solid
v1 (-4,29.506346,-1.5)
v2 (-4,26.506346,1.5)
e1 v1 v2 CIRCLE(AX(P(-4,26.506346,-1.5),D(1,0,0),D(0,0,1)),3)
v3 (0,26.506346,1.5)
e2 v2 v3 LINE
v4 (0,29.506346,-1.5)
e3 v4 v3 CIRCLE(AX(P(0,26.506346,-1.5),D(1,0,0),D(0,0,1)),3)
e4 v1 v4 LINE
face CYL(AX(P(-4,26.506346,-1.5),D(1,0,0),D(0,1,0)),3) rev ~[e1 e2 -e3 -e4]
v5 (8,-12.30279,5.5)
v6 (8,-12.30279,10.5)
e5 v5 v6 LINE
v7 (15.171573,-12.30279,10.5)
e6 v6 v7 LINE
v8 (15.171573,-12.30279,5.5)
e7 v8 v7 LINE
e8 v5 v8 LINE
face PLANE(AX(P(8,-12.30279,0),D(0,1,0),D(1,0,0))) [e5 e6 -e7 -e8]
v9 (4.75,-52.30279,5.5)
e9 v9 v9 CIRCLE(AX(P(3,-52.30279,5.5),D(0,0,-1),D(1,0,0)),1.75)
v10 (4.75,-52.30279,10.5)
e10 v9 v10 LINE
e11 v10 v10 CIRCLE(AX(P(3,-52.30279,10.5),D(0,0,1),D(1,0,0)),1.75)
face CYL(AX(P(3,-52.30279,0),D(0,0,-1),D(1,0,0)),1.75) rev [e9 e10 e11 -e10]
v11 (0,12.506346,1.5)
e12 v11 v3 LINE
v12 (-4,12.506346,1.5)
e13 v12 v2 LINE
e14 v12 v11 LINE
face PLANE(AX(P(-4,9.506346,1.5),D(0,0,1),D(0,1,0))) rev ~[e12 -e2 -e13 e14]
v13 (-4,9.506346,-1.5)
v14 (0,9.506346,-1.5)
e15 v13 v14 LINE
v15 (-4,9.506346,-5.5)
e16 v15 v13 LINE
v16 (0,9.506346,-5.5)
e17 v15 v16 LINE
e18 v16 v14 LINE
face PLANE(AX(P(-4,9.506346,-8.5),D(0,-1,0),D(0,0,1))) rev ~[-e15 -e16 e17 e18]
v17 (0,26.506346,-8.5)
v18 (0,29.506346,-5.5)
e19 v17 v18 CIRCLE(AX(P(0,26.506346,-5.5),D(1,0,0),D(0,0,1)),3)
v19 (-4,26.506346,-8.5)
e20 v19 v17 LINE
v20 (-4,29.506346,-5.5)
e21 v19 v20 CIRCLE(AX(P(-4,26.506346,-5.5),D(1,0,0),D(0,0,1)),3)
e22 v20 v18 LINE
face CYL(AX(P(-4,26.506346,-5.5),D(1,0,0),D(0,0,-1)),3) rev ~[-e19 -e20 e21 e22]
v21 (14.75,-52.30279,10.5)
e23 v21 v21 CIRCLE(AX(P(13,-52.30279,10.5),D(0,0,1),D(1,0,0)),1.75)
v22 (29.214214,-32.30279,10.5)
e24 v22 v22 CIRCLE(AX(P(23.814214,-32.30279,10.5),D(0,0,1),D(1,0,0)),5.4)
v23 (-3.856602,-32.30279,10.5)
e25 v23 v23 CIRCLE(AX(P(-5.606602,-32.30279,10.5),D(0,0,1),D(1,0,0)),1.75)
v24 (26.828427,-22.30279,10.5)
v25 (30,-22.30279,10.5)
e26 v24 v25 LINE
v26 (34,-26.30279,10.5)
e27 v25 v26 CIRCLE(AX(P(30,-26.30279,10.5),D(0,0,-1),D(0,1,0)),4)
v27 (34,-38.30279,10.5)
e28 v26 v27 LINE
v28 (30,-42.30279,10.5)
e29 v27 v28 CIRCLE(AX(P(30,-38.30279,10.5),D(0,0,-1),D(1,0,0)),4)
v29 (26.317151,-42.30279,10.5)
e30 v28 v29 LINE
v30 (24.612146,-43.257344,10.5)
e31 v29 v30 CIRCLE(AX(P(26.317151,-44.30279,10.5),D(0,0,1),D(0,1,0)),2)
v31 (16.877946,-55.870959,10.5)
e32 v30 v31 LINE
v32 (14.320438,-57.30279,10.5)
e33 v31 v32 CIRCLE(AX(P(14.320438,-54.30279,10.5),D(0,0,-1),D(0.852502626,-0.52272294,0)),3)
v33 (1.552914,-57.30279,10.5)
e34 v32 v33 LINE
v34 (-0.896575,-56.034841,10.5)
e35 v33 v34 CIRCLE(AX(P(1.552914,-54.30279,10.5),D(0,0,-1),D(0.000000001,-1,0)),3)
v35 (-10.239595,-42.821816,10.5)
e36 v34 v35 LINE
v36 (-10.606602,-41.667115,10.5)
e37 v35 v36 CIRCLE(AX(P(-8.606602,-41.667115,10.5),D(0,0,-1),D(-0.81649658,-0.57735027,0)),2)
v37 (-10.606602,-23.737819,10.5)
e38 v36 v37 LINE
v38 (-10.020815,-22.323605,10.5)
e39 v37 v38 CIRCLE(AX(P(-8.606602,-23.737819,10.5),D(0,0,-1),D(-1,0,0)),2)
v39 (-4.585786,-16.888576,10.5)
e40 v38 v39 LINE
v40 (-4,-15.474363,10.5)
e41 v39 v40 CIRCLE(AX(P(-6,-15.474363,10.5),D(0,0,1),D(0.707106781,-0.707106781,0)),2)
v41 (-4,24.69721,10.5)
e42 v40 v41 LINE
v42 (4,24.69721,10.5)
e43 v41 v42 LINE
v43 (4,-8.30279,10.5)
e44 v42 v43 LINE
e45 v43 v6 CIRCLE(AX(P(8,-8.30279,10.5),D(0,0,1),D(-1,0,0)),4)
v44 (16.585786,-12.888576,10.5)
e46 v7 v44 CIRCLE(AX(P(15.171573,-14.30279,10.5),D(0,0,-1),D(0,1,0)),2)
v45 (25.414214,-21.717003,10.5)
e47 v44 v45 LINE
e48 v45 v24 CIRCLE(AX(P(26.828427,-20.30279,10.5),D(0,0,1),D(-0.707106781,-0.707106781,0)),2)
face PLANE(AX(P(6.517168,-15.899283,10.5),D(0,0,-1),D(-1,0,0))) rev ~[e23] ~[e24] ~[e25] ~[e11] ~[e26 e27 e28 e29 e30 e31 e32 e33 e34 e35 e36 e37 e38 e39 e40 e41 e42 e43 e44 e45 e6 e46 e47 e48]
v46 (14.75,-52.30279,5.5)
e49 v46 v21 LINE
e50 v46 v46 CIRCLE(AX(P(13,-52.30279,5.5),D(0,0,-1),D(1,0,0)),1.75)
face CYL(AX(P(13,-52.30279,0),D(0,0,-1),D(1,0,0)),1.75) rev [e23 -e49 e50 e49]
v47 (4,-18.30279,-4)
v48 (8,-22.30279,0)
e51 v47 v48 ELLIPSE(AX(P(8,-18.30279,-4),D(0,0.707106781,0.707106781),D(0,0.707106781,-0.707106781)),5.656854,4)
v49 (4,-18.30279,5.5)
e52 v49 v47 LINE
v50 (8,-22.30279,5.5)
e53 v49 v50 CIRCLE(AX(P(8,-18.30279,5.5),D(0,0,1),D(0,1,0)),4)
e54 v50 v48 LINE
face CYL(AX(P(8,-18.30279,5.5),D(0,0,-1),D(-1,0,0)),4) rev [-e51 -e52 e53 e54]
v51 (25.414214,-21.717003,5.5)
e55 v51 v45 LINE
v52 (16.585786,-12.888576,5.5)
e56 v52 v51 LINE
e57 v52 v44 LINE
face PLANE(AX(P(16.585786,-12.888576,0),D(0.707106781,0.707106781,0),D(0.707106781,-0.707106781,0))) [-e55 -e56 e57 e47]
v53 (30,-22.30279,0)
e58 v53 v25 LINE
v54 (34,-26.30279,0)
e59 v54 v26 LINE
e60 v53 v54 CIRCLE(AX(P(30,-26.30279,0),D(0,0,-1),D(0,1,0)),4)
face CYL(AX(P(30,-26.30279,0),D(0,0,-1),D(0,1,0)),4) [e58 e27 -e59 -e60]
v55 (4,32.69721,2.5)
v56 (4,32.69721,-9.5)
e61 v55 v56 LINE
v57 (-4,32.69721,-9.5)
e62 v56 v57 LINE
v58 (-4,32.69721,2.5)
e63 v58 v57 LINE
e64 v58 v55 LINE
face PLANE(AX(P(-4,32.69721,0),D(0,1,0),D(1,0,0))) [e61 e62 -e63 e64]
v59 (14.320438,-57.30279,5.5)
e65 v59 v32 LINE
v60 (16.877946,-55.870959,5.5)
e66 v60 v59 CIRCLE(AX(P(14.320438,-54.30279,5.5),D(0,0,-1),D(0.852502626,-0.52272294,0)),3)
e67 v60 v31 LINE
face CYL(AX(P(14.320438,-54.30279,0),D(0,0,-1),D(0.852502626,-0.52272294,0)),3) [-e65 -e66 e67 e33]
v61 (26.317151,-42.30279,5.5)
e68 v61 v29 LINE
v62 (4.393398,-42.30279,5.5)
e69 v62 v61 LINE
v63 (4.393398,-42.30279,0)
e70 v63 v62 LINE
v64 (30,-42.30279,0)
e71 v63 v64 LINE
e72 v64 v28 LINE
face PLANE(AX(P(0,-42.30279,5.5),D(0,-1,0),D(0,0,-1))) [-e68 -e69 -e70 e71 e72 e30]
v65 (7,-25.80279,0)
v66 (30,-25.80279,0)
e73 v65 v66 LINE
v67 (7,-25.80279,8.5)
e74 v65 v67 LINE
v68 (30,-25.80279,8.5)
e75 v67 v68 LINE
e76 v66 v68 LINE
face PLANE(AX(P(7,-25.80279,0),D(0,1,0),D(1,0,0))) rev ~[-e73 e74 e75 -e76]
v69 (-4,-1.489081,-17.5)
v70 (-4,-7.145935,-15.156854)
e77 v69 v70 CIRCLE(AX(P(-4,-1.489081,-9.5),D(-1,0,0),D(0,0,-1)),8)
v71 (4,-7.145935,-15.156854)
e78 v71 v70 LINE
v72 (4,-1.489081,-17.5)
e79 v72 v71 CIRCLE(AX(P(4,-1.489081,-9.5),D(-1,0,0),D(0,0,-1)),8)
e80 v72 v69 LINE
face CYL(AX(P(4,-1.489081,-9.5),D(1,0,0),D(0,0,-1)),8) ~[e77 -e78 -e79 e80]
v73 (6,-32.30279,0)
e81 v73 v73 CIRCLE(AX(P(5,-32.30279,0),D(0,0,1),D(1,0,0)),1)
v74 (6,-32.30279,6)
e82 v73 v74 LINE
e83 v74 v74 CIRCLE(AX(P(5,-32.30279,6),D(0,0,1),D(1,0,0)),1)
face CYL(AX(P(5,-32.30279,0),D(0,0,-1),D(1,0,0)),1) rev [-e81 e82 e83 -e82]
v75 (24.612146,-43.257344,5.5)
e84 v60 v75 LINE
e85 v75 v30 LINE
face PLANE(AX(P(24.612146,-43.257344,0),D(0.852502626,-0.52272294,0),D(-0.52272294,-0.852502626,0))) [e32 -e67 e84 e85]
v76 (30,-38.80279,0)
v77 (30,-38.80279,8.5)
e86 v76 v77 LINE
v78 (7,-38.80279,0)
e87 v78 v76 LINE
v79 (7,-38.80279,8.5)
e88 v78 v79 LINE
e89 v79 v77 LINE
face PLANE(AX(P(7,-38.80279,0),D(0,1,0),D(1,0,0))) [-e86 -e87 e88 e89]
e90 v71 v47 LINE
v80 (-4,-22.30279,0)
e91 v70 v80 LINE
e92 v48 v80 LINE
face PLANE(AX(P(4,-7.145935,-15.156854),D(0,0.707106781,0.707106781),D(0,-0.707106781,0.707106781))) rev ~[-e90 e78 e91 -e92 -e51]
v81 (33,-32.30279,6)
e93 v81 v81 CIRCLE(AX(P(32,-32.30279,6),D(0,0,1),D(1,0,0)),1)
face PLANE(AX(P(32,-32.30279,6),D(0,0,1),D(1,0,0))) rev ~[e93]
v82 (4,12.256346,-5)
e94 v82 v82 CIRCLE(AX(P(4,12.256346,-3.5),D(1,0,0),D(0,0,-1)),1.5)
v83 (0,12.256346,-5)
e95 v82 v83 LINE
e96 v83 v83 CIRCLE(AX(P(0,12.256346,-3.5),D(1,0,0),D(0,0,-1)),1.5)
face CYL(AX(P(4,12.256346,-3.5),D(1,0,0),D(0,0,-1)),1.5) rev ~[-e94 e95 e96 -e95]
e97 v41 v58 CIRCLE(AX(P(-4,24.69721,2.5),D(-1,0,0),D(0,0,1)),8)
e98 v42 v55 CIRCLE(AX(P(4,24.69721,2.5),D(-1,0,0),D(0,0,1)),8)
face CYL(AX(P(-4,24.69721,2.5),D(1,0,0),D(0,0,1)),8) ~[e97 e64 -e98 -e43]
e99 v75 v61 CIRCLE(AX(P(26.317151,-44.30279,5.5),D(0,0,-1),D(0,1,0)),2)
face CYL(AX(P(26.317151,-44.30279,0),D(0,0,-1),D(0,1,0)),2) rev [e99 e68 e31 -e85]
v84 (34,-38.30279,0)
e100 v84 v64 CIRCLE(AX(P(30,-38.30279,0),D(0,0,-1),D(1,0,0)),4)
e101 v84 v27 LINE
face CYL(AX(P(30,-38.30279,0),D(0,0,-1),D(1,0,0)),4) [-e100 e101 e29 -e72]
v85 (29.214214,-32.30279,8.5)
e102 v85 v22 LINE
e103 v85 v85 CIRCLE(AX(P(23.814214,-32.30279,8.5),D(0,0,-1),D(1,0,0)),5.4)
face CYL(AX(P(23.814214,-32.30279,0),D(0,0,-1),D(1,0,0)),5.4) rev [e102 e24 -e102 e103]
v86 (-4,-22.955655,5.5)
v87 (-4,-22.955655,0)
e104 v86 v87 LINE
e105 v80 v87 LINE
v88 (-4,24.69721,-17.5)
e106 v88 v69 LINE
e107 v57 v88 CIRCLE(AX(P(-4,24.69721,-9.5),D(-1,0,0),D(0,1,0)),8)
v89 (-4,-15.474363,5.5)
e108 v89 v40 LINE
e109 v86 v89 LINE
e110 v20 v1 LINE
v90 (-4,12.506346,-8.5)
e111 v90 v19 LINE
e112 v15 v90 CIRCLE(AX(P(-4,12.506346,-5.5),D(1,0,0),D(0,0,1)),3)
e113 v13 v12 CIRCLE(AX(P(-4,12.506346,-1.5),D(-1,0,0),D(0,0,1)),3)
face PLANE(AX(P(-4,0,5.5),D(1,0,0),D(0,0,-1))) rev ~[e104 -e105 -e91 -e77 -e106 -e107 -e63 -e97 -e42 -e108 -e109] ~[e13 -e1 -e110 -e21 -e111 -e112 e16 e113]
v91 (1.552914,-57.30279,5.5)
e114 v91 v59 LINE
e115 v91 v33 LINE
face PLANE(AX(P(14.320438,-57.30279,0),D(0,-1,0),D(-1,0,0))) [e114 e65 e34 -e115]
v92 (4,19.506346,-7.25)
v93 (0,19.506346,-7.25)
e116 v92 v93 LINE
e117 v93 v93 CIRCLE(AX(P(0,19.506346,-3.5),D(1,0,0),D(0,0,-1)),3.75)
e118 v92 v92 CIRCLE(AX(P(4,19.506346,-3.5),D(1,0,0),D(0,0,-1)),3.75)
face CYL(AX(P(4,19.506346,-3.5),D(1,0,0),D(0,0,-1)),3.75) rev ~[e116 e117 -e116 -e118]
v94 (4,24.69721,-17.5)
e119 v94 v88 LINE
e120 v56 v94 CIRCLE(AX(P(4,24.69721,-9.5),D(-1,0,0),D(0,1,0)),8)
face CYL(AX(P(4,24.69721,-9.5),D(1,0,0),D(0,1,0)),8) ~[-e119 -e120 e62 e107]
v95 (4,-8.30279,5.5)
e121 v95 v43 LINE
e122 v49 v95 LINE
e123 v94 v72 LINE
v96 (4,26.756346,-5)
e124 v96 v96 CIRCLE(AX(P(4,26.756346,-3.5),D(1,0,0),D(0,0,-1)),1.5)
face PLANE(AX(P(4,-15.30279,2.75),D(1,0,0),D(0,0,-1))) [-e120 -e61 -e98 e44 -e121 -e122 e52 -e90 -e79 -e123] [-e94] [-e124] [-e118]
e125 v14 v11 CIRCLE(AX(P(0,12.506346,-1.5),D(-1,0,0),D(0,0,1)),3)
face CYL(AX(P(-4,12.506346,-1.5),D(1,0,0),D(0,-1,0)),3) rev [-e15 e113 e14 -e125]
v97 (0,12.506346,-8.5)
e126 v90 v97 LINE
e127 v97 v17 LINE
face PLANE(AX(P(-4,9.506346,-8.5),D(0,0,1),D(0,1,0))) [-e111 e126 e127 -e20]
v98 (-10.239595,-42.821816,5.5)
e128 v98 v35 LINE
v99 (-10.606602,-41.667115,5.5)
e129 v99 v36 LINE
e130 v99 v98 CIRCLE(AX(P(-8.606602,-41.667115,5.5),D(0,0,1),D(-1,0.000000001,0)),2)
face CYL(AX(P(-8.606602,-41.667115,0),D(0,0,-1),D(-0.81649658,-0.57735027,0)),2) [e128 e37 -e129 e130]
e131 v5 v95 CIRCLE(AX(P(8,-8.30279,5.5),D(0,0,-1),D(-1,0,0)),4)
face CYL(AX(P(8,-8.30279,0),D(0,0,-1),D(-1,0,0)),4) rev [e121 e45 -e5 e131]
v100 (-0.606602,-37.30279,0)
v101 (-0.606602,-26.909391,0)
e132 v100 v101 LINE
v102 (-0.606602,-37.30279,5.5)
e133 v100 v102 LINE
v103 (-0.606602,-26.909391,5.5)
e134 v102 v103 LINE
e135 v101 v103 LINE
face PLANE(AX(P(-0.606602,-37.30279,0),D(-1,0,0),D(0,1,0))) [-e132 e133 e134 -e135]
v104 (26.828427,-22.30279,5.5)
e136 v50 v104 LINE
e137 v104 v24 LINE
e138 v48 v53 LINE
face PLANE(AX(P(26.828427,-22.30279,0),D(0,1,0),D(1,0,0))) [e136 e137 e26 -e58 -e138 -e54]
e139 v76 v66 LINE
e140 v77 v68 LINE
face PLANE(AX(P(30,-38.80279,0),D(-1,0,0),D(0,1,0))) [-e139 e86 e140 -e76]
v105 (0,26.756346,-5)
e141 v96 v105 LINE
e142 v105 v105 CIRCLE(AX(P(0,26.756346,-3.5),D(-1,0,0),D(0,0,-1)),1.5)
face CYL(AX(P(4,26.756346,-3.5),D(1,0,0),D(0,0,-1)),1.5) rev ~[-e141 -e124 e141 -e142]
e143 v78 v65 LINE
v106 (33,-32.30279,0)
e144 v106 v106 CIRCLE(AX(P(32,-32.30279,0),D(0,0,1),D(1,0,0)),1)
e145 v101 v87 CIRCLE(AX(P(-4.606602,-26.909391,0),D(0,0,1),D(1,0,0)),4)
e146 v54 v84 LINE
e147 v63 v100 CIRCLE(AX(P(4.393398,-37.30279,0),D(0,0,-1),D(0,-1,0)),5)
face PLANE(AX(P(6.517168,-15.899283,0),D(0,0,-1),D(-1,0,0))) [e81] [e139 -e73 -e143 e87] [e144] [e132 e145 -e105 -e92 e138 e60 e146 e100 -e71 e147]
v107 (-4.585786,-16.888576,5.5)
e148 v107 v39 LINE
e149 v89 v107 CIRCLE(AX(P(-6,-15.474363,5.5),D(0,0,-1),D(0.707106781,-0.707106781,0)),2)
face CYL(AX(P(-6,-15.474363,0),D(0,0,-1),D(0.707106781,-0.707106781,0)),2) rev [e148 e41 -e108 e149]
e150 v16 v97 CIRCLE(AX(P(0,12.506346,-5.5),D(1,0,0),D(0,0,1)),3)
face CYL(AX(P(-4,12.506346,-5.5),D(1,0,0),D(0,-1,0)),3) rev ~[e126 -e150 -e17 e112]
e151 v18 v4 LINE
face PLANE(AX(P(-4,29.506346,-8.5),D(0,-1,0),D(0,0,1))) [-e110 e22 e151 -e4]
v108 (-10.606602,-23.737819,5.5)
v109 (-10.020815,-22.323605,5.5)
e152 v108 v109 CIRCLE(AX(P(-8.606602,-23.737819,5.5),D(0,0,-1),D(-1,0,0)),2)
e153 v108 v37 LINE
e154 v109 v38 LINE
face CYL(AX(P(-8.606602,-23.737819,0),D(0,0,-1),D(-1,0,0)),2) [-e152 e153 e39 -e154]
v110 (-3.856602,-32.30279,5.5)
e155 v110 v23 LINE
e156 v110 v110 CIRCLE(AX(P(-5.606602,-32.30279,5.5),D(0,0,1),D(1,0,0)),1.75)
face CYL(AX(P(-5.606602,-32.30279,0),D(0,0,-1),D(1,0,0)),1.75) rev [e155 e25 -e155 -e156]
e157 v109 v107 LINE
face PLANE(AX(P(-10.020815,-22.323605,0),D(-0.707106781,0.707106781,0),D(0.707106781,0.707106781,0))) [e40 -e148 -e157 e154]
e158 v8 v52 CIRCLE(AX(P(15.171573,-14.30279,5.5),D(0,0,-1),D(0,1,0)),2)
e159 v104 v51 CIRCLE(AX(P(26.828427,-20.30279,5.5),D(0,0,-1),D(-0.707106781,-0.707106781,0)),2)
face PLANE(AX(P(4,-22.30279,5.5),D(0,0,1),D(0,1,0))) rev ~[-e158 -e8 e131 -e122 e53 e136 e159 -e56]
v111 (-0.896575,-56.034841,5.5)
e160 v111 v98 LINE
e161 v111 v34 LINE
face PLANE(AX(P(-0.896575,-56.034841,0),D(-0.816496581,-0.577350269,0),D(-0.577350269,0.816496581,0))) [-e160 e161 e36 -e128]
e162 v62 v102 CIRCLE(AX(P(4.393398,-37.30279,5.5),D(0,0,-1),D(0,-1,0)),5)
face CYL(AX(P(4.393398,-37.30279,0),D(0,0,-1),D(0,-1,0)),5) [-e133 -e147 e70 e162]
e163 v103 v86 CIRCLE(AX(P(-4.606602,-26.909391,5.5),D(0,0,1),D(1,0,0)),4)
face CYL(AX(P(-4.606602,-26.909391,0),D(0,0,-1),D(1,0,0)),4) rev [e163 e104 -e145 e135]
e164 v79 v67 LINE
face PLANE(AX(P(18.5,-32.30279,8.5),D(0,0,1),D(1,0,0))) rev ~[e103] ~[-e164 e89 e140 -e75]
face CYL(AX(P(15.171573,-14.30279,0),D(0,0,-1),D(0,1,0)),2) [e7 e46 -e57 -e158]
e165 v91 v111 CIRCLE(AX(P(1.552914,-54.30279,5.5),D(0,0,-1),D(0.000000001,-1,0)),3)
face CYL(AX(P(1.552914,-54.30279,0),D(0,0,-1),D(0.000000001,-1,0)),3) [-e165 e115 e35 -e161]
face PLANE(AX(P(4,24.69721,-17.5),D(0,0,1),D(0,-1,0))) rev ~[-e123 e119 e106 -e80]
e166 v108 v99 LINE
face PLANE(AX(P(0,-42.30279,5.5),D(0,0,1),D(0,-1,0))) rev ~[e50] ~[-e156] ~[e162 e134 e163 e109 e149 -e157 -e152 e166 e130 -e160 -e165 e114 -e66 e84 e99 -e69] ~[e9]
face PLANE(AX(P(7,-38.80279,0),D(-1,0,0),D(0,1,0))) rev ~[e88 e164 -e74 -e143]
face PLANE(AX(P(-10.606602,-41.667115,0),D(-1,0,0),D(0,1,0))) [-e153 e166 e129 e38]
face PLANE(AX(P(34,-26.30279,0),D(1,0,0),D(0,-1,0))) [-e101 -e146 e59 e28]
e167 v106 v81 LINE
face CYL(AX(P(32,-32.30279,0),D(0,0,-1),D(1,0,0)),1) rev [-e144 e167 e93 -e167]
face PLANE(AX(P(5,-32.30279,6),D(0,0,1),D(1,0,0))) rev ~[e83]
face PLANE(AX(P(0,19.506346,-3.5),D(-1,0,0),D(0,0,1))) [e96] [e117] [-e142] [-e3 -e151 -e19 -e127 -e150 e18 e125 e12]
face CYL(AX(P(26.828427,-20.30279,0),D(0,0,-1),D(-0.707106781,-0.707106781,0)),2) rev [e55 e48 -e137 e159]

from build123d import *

# Parameters (mm, degrees)
IZIM1_R                     = 5.4
IZIM1_R_2                   = 1.75
Y_KSEKLIK_EKSTR_ZYON1_DEPTH = 10.5
IZIM3_W                     = 5.5
IZIM3_H                     = 14
KES_EKSTR_ZYON1_DEPTH       = 34.5
KES_EKSTR_ZYON2_DEPTH       = 34.5
KES_EKSTR_ZYON2_DEPTH_BACK  = 34.5
IZIM5_W                     = 6.606601718
IZIM5_H                     = 5.5
KES_EKSTR_ZYON4_DEPTH       = 50.5
KES_EKSTR_ZYON5_DEPTH       = 5.5
Y_KSEKLIK_EKSTR_ZYON2_DEPTH = 8
RADYUS2_R                   = 8
RADYUS7_R                   = 4
IZIM9_W                     = 23
IZIM9_H                     = 13
KES_EKSTR_ZYON6_DEPTH       = 8.5
IZIM10_R                    = 1
KES_EKSTR_ZYON7_DEPTH       = 6
KES_EKSTR_ZYON8_DEPTH       = 4
IZIM12_R                    = 1.3
IZIM12_R_2                  = 2.5
KES_EKSTR_ZYON9_DEPTH       = 8
IZIM13_R                    = 2.5
Y_KSEKLIK_EKSTR_ZYON4_DEPTH = 8
IZIM14_R                    = 3.75
IZIM14_R_2                  = 1.5
KES_EKSTR_ZYON10_DEPTH      = 8
IZIM15_W                    = 10
IZIM15_H                    = 20
IZIM15_R                    = 1.5
KES_EKSTR_ZYON11_DEPTH      = 4
RADYUS10_R                  = 3
RADYUS11_R                  = 3
RADYUS12_R                  = 3
RADYUS13_R                  = 3


with BuildPart() as part:
    # Çizim1 → Yükseklik-Ekstrüzyon1 (new body)
    with BuildSketch(Plane.XY):
        with BuildLine():
            ThreePointArc((-10.23959488, -42.821815771), (-10.512642946, -42.272926126), (-10.606601718, -41.667115232))
            Line((-10.606601718, -41.667115232), (-10.606601718, -23.737818565))
            ThreePointArc((-10.606601718, -23.737818565), (-10.454360783, -22.972451701), (-10.02081528, -22.323605003))
            Line((-10.02081528, -22.323605003), (-4.585786438, -16.888576161))
            ThreePointArc((-4.585786438, -16.888576161), (-4.152240935, -16.239729463), (-4, -15.474362598))
            Line((-4, -15.474362598), (-4, -12.302789723))
            Line((-4, -12.302789723), (-4, 32.697210277))
            Line((-4, 32.697210277), (4, 32.697210277))
            Line((4, 32.697210277), (4, -8.302789723))
            ThreePointArc((4, -8.302789723), (5.171572875, -11.131216848), (8, -12.302789723))
            Line((8, -12.302789723), (15.171572875, -12.302789723))
            ThreePointArc((15.171572875, -12.302789723), (15.93693974, -12.455030658), (16.585786438, -12.888576161))
            Line((16.585786438, -12.888576161), (25.414213562, -21.717003285))
            ThreePointArc((25.414213562, -21.717003285), (26.06306026, -22.150548788), (26.828427125, -22.302789723))
            Line((26.828427125, -22.302789723), (30, -22.302789723))
            ThreePointArc((30, -22.302789723), (32.828427125, -23.474362598), (34, -26.302789723))
            Line((34, -26.302789723), (34, -38.302789723))
            ThreePointArc((34, -38.302789723), (32.828427125, -41.131216848), (30, -42.302789723))
            Line((30, -42.302789723), (26.317150887, -42.302789723))
            ThreePointArc((26.317150887, -42.302789723), (25.340138032, -42.557669131), (24.612145635, -43.257343842))
            Line((24.612145635, -43.257343842), (16.877945687, -55.870958544))
            ThreePointArc((16.877945687, -55.870958544), (15.785957092, -56.920470611), (14.320437809, -57.302789723))
            Line((14.320437809, -57.302789723), (1.552914271, -57.302789723))
            ThreePointArc((1.552914271, -57.302789723), (0.17381174, -56.967011225), (-0.896575472, -56.03484053))
            Line((-0.896575472, -56.03484053), (-10.23959488, -42.821815771))
        make_face()
        with Locations((23.814213562, -32.302789723)):
            Circle(IZIM1_R, mode=Mode.SUBTRACT)
        with Locations((-5.606601718, -32.302789723)):
            Circle(IZIM1_R_2, mode=Mode.SUBTRACT)
        with Locations((13, -52.302789723)):
            Circle(IZIM1_R_2, mode=Mode.SUBTRACT)
        with Locations((3, -52.302789723)):
            Circle(IZIM1_R_2, mode=Mode.SUBTRACT)
    extrude(amount=Y_KSEKLIK_EKSTR_ZYON1_DEPTH)

    # Çizim3 → Kes-Ekstrüzyon1 (cut)
    with BuildSketch(Plane(origin=(4, 0, 0), x_dir=(0, 0, -1), z_dir=(1, 0, 0))):
        with Locations((-2.75, -15.302789723)):
            Rectangle(IZIM3_W, IZIM3_H)
    extrude(amount=KES_EKSTR_ZYON1_DEPTH, mode=Mode.SUBTRACT)

    # Çizim4 → Kes-Ekstrüzyon2 (cut, two sides)
    with BuildSketch(Plane(origin=(0, 0, 0), x_dir=(0, 0, -1), z_dir=(1, 0, 0))) as kes_ekstr_zyon2_sk:
        Polygon((-5.5, -42.821815771), (-5.5, -42.302789723), (0, -42.302789723), (0, -42.821815771), (0, -57.302789723), (-5.5, -57.302789723), align=None)
    extrude(amount=KES_EKSTR_ZYON2_DEPTH, mode=Mode.SUBTRACT)
    extrude(kes_ekstr_zyon2_sk.sketch, amount=-KES_EKSTR_ZYON2_DEPTH_BACK, mode=Mode.SUBTRACT)

    # Çizim5 → Kes-Ekstrüzyon4 (cut)
    with BuildSketch(Plane(origin=(0, 0, 0), x_dir=(1, 0, 0), z_dir=(0, 1, 0))):
        with Locations((-7.303300859, -2.75)):
            Rectangle(IZIM5_W, IZIM5_H)
    extrude(amount=-KES_EKSTR_ZYON4_DEPTH, mode=Mode.SUBTRACT)

    # Çizim7 → Kes-Ekstrüzyon5 (cut)
    with BuildSketch(Plane.XY):
        with BuildLine():
            Line((-4.606601718, -22.909391441), (-10.606601718, -22.909391441))
            Line((-10.606601718, -22.909391441), (-12.80795169, -22.909391441))
            Line((-12.80795169, -22.909391441), (-12.80795169, -45.448338302))
            Line((-12.80795169, -45.448338302), (4.393398282, -45.448338302))
            Line((4.393398282, -45.448338302), (4.393398282, -42.302789723))
            ThreePointArc((4.393398282, -42.302789723), (0.857864376, -40.838323629), (-0.606601718, -37.302789723))
            Line((-0.606601718, -37.302789723), (-0.606601718, -26.909391441))
            ThreePointArc((-0.606601718, -26.909391441), (-1.778174593, -24.080964316), (-4.606601718, -22.909391441))
        make_face()
    extrude(amount=KES_EKSTR_ZYON5_DEPTH, mode=Mode.SUBTRACT)

    # Çizim8 → Yükseklik-Ekstrüzyon2 (add)
    with BuildSketch(Plane(origin=(4, 0, 0), x_dir=(0, 0, -1), z_dir=(1, 0, 0))):
        with BuildLine():
            Line((-10.5, 32.697210277), (9.5, 32.697210277))
            ThreePointArc((9.5, 32.697210277), (15.156854249, 30.354064527), (17.5, 24.697210277))
            Line((17.5, 24.697210277), (17.5, -1.336305369))
            Line((17.5, -1.336305369), (17.5, -1.489081224))
            ThreePointArc((17.5, -1.489081224), (16.89103626, -4.550548683), (15.156854249, -7.145935473))
            Line((15.156854249, -7.145935473), (0, -22.302789723))
            Line((0, -22.302789723), (-10.5, -22.302789723))
            Line((-10.5, -22.302789723), (-10.5, 32.697210277))
        make_face()
    extrude(amount=-Y_KSEKLIK_EKSTR_ZYON2_DEPTH)

    # Radyus2
    radyus2_edges = [part.edges().sort_by_distance(p)[0] for p in [
        (0, 32.697210277, 10.5),
    ]]
    fillet(radyus2_edges, radius=RADYUS2_R)

    # Radyus7
    radyus7_edges = [part.edges().sort_by_distance(p)[0] for p in [
        (4, -22.302789723, 2.75),
    ]]
    fillet(radyus7_edges, radius=RADYUS7_R)

    # Çizim9 → Kes-Ekstrüzyon6 (cut)
    with BuildSketch(Plane.XY):
        with Locations((18.5, -32.302789723)):
            Rectangle(IZIM9_W, IZIM9_H)
    extrude(amount=KES_EKSTR_ZYON6_DEPTH, mode=Mode.SUBTRACT)

    # Çizim10 → Kes-Ekstrüzyon7 (cut)
    with BuildSketch(Plane.XY):
        with Locations((32, -32.302789723)):
            Circle(IZIM10_R)
        with Locations((5, -32.302789723)):
            Circle(IZIM10_R)
    extrude(amount=KES_EKSTR_ZYON7_DEPTH, mode=Mode.SUBTRACT)

    # Çizim11 → Kes-Ekstrüzyon8 (cut)
    with BuildSketch(Plane.ZY.offset(4)):
        with BuildLine():
            Line((-6.5, 14.197210277), (-6.5, 23.197210277))
            ThreePointArc((-6.5, 23.197210277), (-3.5, 26.197210277), (-0.5, 23.197210277))
            Line((-0.5, 23.197210277), (-0.5, 14.197210277))
            ThreePointArc((-0.5, 14.197210277), (-3.5, 11.197210277), (-6.5, 14.197210277))
        make_face()
    extrude(amount=-KES_EKSTR_ZYON8_DEPTH, mode=Mode.SUBTRACT)

    # Çizim12 → Kes-Ekstrüzyon9 (cut)
    with BuildSketch(Plane.ZY.offset(4)):
        with Locations((-3.5, 23.197210277)):
            Circle(IZIM12_R)
        with Locations((-3.5, 14.197210277)):
            Circle(IZIM12_R)
        with Locations((-3.5, 18.697210277)):
            Circle(IZIM12_R_2)
    extrude(amount=-KES_EKSTR_ZYON9_DEPTH, mode=Mode.SUBTRACT)

    # Çizim13 → Yükseklik-Ekstrüzyon4 (add)
    with BuildSketch(Plane(origin=(4, 0, 0), x_dir=(0, 0, -1), z_dir=(1, 0, 0))):
        Polygon((-4.189470597, 27.846393302), (11.202467705, 28.228364897), (11.683763176, 8.834068822), (-4.189470597, 8.440153234), align=None)
        with Locations((3.5, 18.697210277)):
            Circle(IZIM13_R, mode=Mode.SUBTRACT)
    extrude(amount=-Y_KSEKLIK_EKSTR_ZYON4_DEPTH)

    # Çizim14 → Kes-Ekstrüzyon10 (cut)
    with BuildSketch(Plane(origin=(4, 0, 0), x_dir=(0, 0, -1), z_dir=(1, 0, 0))):
        with Locations((3.5, 19.50634608)):
            Circle(IZIM14_R)
        with Locations((3.5, 12.25634608)):
            Circle(IZIM14_R_2)
        with Locations((3.5, 26.75634608)):
            Circle(IZIM14_R_2)
    extrude(amount=-KES_EKSTR_ZYON10_DEPTH, mode=Mode.SUBTRACT)

    # Çizim15 → Kes-Ekstrüzyon11 (cut)
    with BuildSketch(Plane.ZY.offset(4)):
        with Locations((-3.5, 19.50634608)):
            Rectangle(IZIM15_W, IZIM15_H)
        with Locations((-3.5, 26.75634608)):
            Circle(IZIM15_R, mode=Mode.SUBTRACT)
    extrude(amount=-KES_EKSTR_ZYON11_DEPTH, mode=Mode.SUBTRACT)

    # Radyus10
    radyus10_edges = [part.edges().sort_by_distance(p)[0] for p in [
        (-2, 29.50634608, 1.5),
    ]]
    fillet(radyus10_edges, radius=RADYUS10_R)

    # Radyus11
    radyus11_edges = [part.edges().sort_by_distance(p)[0] for p in [
        (-2, 9.50634608, -8.5),
    ]]
    fillet(radyus11_edges, radius=RADYUS11_R)

    # Radyus12
    radyus12_edges = [part.edges().sort_by_distance(p)[0] for p in [
        (-2, 29.50634608, -8.5),
    ]]
    fillet(radyus12_edges, radius=RADYUS12_R)

    # Radyus13
    radyus13_edges = [part.edges().sort_by_distance(p)[0] for p in [
        (-2, 9.50634608, 1.5),
    ]]
    fillet(radyus13_edges, radius=RADYUS13_R)


solid = part.part
